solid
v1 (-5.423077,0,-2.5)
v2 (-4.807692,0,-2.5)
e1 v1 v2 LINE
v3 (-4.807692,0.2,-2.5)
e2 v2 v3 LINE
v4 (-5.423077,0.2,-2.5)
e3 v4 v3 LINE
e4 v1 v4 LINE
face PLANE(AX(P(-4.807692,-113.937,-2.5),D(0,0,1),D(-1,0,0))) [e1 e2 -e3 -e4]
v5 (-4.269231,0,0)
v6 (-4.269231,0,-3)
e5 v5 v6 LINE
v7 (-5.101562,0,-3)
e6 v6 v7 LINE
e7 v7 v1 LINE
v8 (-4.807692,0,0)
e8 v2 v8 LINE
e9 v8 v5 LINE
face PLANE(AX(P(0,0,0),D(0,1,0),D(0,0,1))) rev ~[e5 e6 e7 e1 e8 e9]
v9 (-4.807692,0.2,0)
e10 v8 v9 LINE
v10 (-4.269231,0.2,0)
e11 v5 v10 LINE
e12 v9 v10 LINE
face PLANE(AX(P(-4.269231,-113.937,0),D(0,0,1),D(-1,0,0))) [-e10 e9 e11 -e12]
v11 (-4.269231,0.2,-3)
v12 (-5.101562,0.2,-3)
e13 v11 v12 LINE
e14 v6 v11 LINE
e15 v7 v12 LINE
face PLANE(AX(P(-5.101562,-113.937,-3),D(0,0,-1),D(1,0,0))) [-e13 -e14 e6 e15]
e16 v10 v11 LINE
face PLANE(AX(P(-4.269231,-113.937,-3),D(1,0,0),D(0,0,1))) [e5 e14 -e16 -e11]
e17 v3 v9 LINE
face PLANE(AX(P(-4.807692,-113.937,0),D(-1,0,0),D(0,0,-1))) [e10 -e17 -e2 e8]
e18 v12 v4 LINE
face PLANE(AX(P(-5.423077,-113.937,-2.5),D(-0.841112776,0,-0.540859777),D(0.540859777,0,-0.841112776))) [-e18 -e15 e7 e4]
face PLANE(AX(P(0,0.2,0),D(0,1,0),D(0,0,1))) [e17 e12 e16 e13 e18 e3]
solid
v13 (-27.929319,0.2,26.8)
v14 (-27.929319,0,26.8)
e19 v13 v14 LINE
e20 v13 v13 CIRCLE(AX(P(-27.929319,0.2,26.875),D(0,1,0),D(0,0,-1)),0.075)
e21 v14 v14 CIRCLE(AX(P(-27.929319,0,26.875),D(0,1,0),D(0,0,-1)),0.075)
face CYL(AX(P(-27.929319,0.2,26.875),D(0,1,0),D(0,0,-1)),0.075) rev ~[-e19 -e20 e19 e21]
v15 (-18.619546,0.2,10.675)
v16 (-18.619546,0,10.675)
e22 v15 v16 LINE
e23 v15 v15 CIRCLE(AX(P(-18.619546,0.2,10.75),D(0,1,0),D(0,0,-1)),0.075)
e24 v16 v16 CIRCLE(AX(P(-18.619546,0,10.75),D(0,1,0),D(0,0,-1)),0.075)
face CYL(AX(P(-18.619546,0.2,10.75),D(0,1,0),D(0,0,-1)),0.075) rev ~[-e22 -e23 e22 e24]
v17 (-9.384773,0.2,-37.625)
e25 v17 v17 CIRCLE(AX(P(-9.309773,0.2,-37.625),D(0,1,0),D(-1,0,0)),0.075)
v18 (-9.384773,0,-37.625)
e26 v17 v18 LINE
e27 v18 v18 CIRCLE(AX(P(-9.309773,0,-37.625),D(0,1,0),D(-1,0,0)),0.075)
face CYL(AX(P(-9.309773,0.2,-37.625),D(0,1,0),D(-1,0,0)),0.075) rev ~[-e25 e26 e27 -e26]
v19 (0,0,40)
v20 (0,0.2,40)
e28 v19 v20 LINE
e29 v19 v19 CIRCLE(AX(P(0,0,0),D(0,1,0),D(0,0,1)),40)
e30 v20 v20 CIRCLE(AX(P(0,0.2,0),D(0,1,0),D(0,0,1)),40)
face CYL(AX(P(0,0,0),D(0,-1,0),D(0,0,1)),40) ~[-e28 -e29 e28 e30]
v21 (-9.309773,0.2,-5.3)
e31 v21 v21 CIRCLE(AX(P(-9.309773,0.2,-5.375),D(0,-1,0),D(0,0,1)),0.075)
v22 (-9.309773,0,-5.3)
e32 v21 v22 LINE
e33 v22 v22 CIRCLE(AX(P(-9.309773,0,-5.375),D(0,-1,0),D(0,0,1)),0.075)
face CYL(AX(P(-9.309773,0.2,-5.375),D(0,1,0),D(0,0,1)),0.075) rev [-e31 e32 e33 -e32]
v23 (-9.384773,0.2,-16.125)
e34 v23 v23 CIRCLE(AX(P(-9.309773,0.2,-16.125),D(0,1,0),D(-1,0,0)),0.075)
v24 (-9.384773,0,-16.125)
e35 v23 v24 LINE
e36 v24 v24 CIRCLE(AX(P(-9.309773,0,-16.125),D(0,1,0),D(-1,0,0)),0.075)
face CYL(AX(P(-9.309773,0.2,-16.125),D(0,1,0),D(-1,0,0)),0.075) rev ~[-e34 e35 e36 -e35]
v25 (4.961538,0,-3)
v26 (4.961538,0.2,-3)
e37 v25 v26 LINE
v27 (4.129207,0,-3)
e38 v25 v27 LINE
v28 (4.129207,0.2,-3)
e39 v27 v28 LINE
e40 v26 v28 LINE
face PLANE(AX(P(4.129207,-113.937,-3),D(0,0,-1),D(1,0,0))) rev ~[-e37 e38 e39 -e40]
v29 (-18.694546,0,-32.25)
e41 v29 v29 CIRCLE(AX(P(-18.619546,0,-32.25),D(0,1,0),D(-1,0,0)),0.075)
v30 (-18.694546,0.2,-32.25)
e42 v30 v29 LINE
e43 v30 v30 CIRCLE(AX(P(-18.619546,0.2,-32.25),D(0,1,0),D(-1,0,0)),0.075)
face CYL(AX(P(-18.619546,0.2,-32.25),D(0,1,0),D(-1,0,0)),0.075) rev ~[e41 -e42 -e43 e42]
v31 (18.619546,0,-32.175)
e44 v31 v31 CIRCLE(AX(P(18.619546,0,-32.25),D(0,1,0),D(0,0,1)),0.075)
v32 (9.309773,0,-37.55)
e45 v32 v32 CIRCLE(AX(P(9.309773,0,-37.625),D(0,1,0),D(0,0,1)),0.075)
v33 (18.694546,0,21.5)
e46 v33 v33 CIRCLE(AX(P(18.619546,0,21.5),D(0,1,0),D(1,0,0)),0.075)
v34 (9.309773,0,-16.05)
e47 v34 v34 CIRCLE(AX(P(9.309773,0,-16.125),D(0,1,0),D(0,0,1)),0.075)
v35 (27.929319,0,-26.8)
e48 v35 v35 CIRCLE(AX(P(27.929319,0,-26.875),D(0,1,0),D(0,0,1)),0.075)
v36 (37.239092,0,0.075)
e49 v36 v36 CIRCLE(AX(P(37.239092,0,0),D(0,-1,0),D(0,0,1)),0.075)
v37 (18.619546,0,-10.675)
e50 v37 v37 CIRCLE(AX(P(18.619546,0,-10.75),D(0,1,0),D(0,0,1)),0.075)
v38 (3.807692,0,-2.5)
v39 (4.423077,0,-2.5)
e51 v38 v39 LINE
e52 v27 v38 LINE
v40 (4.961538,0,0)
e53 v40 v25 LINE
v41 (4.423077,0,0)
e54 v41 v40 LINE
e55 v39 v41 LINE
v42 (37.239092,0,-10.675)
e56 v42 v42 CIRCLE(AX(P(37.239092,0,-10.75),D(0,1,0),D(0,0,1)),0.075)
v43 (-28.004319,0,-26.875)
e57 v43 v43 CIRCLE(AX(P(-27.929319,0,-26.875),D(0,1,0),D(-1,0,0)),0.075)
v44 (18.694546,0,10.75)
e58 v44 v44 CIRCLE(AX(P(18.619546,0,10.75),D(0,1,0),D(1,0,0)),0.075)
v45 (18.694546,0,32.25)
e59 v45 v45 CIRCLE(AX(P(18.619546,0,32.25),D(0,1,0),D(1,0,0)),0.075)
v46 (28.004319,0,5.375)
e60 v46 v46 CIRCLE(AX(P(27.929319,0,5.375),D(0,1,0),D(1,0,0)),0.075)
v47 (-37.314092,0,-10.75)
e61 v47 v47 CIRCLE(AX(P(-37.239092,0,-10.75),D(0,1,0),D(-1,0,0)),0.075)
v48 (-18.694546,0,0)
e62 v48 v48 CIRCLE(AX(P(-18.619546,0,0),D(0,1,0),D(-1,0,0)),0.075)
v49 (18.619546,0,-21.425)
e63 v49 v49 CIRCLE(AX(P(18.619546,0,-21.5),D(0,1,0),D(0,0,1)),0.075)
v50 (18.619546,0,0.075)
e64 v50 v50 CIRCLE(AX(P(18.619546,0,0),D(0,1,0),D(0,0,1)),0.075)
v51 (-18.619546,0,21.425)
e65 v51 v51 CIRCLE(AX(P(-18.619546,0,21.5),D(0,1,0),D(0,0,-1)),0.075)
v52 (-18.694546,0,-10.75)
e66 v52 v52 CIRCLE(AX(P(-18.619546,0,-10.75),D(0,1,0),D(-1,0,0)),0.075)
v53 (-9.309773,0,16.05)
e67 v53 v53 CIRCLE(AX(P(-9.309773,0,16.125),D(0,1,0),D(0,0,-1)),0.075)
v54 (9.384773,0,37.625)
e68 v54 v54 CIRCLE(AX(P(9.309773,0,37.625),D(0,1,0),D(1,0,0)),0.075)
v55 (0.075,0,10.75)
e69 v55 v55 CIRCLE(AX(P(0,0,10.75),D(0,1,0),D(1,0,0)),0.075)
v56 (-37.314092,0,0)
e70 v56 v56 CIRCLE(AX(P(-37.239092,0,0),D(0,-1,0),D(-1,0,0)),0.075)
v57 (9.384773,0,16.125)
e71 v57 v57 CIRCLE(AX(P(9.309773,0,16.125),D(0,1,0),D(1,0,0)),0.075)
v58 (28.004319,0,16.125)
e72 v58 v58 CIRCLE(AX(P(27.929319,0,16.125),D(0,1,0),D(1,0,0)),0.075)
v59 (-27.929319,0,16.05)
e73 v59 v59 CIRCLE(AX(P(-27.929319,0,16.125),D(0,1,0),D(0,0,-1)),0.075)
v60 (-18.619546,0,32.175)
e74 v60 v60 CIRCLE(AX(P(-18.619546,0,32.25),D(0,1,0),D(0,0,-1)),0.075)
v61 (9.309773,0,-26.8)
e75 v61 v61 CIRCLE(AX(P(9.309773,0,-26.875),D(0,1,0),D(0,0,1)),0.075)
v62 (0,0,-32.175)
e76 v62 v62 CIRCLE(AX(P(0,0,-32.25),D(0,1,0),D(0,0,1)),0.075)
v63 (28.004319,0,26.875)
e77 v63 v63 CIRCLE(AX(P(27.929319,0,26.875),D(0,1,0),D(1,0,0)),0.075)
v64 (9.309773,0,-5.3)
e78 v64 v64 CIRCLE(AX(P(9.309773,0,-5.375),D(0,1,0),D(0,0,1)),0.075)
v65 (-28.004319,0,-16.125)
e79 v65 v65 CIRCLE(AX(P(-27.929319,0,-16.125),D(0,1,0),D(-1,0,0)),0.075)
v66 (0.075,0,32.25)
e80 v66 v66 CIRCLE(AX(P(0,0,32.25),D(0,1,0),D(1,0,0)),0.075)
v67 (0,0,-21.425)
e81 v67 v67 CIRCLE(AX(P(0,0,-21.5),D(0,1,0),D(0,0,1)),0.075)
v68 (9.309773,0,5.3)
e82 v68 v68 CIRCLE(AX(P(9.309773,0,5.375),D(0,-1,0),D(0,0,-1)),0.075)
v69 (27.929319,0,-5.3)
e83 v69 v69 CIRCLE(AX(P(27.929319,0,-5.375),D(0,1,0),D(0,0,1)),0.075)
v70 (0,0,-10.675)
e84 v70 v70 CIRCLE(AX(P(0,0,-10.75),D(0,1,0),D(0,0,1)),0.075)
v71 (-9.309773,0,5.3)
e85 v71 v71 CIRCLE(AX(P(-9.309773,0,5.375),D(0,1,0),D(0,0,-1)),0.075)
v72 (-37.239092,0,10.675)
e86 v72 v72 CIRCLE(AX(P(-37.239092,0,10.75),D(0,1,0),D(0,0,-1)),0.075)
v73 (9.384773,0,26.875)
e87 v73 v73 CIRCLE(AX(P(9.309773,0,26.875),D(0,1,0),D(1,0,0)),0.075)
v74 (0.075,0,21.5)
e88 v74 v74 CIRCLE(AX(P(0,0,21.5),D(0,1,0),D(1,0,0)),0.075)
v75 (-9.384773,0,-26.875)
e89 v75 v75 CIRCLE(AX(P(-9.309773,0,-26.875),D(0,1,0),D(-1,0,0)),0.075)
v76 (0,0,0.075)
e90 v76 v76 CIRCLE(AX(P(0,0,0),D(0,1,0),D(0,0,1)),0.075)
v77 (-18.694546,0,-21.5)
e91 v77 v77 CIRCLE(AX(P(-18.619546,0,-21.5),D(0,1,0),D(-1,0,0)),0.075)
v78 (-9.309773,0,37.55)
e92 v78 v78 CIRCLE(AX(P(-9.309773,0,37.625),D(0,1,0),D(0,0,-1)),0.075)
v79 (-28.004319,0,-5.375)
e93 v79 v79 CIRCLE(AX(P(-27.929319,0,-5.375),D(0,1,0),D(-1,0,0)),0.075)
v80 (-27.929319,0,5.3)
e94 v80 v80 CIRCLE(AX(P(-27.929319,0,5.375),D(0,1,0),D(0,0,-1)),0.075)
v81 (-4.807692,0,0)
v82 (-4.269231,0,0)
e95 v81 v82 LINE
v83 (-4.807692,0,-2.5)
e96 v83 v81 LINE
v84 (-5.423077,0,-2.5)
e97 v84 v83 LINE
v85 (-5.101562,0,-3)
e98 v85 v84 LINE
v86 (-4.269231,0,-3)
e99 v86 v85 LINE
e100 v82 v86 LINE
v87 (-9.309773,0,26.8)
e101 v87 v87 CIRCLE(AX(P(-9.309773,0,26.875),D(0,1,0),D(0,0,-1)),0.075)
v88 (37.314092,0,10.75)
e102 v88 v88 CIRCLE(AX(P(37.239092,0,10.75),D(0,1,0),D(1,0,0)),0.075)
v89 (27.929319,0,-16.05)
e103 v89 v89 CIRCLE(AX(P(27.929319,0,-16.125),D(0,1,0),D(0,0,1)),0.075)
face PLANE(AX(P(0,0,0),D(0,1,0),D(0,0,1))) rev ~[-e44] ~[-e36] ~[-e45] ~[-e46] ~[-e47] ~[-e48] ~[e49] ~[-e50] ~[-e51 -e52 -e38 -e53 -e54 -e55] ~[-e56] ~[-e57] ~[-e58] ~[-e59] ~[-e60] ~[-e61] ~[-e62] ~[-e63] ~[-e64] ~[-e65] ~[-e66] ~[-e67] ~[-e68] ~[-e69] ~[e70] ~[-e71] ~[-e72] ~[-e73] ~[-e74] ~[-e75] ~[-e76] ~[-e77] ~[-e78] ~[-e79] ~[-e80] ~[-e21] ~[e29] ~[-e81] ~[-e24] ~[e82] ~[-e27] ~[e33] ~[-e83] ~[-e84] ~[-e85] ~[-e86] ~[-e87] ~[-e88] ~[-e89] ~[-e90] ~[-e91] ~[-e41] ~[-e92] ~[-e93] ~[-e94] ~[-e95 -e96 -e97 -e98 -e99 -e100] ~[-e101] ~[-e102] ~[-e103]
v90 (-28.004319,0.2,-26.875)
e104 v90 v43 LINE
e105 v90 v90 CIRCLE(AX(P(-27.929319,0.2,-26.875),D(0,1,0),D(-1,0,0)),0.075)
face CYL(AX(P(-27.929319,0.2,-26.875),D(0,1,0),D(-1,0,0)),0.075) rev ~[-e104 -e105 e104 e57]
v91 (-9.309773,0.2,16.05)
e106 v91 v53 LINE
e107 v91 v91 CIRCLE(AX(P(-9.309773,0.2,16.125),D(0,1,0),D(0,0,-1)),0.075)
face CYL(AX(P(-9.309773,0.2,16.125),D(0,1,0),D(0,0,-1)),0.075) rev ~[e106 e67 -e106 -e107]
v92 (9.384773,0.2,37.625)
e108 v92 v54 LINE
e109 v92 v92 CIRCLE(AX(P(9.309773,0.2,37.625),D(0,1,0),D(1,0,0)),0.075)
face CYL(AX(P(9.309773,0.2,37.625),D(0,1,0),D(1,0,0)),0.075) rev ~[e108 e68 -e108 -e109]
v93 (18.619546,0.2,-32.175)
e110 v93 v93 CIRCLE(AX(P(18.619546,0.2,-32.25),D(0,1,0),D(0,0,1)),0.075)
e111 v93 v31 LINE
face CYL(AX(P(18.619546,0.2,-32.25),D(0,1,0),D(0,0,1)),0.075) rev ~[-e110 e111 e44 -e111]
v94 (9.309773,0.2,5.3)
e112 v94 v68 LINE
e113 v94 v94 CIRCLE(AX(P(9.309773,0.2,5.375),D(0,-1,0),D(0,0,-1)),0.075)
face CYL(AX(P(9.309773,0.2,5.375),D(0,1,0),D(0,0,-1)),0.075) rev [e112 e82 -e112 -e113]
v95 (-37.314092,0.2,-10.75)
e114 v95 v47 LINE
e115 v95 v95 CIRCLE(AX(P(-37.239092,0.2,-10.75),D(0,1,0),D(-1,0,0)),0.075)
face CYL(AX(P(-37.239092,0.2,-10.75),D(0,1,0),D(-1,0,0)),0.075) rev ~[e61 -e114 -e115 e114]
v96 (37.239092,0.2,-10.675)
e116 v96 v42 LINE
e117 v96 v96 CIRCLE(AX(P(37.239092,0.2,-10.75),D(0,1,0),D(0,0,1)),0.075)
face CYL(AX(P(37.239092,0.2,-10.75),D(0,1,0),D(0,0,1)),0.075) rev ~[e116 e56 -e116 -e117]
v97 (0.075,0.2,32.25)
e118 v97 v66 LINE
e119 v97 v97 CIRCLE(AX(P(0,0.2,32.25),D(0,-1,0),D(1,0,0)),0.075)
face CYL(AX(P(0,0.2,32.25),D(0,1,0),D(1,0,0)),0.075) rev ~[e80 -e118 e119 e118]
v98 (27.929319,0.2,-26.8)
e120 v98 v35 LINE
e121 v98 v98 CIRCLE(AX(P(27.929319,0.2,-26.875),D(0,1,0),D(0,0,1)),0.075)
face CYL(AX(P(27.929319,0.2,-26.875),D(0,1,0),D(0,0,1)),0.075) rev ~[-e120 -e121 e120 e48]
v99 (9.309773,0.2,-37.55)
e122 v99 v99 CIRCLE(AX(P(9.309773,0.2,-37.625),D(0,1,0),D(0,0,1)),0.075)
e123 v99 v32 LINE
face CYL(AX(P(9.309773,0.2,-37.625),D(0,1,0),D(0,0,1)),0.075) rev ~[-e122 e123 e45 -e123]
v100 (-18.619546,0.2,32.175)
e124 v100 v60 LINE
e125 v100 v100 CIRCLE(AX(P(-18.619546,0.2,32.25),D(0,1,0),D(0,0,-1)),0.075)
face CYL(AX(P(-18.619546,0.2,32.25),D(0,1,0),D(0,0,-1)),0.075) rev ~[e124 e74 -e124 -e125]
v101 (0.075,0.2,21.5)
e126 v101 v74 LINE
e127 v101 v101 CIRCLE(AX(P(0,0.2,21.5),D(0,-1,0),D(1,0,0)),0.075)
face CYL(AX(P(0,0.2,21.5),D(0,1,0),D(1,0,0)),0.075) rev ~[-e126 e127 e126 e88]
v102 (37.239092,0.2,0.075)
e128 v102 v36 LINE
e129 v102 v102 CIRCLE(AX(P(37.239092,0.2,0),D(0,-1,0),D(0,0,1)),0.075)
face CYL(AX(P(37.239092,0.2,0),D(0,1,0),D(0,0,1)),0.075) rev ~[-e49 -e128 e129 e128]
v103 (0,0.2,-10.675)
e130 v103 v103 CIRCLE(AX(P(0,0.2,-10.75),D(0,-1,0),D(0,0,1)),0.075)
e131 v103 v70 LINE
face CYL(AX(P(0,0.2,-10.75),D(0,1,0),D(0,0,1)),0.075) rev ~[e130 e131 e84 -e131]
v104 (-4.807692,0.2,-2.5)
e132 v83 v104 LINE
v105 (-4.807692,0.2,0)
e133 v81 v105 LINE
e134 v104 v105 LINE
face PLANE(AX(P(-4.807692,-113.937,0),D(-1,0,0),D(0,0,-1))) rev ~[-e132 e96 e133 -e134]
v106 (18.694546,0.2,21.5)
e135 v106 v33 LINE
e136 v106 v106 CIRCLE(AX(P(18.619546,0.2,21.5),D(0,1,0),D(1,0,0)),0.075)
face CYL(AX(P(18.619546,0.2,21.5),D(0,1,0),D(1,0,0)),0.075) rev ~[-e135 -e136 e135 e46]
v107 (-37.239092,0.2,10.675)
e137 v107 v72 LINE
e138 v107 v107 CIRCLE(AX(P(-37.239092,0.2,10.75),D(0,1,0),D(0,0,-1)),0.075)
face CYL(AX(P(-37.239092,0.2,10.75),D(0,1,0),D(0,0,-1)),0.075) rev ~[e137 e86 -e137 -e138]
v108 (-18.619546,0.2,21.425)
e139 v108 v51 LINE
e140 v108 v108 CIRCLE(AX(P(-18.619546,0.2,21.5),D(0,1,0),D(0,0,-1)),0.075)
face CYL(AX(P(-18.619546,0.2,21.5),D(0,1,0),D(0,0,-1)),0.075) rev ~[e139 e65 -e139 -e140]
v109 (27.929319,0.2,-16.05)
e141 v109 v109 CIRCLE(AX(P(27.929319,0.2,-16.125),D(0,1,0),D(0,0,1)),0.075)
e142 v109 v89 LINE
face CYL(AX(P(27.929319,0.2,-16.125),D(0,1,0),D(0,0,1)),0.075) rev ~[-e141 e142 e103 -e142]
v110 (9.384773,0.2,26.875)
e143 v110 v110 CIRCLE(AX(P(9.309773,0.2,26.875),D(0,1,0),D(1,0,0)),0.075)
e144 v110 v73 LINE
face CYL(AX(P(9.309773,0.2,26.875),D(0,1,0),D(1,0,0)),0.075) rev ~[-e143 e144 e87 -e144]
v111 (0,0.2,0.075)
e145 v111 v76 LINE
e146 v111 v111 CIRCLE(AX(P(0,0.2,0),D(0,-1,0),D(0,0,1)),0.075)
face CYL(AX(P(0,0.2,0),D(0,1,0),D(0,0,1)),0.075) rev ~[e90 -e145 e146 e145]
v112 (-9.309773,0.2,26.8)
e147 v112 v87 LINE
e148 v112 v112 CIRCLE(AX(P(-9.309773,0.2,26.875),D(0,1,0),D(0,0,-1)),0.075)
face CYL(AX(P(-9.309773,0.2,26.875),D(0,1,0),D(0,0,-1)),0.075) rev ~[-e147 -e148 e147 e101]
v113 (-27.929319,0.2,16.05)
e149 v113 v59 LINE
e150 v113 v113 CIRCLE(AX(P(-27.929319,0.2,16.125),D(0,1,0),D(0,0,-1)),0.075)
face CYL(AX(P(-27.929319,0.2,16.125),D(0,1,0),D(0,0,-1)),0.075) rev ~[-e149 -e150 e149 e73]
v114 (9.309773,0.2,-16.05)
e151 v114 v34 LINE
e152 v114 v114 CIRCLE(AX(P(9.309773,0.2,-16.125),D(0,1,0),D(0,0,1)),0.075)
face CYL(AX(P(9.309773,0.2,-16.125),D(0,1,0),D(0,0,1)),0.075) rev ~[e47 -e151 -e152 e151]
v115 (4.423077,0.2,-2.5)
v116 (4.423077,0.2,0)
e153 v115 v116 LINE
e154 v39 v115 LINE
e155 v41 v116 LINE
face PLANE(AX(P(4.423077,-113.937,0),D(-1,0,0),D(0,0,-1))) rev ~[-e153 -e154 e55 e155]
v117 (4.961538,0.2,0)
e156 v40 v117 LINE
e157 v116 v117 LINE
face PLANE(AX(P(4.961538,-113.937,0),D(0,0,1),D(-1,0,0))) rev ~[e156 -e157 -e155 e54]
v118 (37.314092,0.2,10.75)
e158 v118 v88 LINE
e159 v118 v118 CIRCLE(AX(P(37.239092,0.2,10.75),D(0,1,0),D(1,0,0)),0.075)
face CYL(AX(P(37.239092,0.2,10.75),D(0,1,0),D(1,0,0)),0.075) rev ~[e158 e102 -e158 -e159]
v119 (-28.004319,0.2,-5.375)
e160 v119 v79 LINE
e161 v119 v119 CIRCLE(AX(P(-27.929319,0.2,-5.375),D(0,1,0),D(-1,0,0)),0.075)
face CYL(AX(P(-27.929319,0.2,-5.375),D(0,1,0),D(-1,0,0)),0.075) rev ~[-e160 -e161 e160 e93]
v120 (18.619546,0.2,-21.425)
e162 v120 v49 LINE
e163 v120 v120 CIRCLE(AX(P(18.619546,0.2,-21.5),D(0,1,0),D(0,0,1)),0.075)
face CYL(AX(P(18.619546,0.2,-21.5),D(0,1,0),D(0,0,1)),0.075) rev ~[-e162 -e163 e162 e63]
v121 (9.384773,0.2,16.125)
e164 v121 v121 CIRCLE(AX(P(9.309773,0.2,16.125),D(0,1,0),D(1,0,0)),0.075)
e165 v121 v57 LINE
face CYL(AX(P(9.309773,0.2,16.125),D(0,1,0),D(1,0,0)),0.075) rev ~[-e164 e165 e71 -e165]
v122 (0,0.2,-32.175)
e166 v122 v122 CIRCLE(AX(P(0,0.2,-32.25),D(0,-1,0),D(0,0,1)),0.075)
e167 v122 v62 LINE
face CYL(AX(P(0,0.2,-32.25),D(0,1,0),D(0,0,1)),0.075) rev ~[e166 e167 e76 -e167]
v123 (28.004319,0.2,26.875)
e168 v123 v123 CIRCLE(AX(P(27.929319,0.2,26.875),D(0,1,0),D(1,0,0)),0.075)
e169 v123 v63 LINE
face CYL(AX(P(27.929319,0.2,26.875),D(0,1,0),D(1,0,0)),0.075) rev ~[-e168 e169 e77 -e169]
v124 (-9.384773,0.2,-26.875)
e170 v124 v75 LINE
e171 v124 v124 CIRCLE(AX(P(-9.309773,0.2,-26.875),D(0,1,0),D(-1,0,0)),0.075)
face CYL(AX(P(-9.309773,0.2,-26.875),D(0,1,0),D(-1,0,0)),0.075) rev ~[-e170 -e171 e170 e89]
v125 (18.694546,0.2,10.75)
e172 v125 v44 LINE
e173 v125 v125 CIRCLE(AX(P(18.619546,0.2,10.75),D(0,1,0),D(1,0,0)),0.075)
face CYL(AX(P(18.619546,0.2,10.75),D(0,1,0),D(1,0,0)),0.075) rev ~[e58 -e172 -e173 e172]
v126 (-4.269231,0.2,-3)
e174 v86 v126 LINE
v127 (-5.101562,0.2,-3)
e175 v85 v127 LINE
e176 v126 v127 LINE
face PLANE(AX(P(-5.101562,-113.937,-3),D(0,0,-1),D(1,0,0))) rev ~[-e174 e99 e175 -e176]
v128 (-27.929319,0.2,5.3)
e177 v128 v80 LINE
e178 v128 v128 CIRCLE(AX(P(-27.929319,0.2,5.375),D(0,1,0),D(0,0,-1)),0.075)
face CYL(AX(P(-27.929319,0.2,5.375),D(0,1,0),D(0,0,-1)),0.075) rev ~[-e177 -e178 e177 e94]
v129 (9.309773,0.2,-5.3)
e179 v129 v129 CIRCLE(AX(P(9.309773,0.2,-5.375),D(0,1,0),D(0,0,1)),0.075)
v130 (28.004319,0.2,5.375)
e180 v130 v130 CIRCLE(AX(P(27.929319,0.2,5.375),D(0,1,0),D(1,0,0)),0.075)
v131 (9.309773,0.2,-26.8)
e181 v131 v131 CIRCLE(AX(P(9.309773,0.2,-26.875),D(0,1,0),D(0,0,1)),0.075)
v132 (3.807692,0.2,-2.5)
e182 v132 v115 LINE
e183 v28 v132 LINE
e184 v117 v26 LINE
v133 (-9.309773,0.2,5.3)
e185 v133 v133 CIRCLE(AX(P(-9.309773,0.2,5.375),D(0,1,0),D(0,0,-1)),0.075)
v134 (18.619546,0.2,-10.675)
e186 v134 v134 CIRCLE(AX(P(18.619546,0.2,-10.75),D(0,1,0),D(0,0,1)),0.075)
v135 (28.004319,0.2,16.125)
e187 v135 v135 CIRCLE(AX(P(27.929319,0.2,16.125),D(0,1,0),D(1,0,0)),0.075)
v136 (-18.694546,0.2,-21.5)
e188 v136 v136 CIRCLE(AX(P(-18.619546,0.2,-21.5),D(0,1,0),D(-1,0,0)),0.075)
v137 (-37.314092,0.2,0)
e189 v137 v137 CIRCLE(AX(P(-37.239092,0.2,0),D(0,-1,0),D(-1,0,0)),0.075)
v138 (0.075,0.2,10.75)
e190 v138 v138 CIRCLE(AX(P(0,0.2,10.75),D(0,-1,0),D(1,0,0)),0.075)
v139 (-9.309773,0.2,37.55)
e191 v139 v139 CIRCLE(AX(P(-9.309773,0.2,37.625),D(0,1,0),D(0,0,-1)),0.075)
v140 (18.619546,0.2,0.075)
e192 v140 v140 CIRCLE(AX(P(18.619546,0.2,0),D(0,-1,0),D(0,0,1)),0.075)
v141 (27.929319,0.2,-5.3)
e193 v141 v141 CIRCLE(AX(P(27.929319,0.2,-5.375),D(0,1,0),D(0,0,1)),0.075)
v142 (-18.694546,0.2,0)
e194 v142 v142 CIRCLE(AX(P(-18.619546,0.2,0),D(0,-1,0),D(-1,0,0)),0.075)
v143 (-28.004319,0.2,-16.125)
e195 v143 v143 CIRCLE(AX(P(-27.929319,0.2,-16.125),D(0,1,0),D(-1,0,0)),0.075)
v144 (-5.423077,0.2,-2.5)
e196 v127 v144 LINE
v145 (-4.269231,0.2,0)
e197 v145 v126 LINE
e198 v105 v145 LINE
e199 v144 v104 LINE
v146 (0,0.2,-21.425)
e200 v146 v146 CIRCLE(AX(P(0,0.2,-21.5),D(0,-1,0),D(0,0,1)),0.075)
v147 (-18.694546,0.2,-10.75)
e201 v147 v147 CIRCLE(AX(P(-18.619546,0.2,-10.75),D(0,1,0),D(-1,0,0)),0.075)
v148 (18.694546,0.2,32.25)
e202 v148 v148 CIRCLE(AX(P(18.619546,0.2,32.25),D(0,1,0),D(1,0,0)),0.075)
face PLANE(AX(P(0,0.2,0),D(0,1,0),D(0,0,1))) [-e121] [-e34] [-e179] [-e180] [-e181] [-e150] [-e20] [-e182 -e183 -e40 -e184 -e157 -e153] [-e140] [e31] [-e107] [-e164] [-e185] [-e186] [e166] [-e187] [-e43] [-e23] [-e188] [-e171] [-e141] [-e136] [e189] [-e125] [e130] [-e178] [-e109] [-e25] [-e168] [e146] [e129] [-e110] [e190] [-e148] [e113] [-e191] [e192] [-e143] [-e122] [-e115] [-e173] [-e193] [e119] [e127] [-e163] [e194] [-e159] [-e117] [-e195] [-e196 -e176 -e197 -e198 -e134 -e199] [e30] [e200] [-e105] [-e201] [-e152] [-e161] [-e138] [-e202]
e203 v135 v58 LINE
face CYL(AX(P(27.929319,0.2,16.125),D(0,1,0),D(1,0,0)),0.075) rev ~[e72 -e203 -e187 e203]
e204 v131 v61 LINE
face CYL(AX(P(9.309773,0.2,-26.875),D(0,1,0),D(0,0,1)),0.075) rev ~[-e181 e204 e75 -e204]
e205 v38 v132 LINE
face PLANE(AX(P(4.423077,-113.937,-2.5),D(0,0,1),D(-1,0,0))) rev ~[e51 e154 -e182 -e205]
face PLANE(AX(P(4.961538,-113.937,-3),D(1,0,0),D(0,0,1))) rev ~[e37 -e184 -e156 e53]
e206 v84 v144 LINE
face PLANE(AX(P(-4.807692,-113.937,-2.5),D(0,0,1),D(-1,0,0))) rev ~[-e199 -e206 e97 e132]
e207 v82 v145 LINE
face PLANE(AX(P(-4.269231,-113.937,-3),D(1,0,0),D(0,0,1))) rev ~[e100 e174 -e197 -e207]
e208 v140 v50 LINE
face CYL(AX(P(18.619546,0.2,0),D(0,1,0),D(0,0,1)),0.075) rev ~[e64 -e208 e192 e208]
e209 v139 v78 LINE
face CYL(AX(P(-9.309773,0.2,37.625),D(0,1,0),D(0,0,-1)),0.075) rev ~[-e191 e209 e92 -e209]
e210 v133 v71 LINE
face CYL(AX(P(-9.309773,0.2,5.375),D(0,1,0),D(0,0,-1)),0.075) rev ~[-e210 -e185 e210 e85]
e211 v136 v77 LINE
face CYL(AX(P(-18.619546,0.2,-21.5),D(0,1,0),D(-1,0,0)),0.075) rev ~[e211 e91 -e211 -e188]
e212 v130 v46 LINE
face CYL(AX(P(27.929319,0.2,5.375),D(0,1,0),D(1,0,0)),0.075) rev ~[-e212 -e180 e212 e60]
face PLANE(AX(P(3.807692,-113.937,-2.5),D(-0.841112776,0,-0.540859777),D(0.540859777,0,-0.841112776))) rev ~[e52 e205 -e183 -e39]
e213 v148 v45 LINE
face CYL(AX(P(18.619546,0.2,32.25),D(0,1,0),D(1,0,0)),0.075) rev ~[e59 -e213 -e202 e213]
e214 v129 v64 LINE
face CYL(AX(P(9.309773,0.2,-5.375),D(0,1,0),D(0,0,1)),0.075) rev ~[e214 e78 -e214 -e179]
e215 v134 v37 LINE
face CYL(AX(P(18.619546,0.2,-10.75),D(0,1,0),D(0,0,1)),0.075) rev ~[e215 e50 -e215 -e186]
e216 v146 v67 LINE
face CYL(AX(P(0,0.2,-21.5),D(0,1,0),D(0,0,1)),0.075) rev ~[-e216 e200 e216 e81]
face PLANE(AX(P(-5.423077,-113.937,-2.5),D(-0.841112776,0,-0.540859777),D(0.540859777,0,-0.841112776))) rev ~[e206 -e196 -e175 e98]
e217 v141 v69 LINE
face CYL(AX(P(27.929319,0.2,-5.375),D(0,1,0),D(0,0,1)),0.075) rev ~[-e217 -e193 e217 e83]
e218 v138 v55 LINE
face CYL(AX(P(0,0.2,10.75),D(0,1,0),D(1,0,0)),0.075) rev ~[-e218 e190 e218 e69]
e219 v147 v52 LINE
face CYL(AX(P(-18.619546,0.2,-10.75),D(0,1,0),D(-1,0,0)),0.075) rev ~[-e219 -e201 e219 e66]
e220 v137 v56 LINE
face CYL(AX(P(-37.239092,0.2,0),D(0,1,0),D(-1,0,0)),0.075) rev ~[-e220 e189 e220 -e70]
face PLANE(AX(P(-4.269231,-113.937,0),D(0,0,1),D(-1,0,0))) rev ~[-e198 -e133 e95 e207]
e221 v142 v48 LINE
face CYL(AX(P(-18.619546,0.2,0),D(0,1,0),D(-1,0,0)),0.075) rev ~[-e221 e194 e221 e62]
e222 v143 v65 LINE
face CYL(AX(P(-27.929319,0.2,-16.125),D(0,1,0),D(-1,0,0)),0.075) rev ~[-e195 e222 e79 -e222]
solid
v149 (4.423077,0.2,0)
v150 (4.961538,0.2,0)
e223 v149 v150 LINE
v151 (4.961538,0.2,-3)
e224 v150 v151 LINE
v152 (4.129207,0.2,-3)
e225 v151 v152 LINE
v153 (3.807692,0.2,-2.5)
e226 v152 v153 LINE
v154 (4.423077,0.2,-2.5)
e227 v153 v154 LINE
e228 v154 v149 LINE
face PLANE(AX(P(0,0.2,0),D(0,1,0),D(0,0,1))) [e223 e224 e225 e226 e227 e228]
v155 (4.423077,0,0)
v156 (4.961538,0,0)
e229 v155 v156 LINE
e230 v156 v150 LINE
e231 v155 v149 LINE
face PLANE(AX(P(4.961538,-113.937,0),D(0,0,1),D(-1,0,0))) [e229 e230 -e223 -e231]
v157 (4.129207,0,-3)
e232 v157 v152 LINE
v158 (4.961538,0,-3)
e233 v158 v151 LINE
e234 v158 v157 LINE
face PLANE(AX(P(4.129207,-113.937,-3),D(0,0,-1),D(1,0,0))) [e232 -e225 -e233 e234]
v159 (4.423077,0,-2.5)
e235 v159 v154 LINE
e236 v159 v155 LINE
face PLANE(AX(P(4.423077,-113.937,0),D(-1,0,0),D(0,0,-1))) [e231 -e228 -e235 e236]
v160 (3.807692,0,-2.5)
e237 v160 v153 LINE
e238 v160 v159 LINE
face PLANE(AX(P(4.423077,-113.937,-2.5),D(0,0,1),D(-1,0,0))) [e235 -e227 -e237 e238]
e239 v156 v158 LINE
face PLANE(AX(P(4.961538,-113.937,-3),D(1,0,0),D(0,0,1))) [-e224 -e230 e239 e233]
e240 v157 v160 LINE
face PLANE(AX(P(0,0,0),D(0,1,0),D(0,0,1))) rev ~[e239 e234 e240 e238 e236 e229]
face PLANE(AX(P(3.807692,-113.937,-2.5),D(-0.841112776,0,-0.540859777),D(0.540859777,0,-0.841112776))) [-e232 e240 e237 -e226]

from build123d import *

# Parameters (mm, degrees)
SKETCH2_R                = 40
BOSS_EXTRUDE1_DEPTH      = 0.2
SKETCH4_R                = 0.075
CUT_EXTRUDE2_DEPTH       = 0.2
LPATTERN1_COUNT          = 4
LPATTERN1_PITCH          = 10.75
LPATTERN1_COUNT_DIR2     = 3
LPATTERN1_PITCH_DIR2     = 18.619546181
MIRROR1_COPY_1_SKETCH_R  = 0.075
MIRROR1_COPY_1_DEPTH     = 0.2
MIRROR1_COPY_2_SKETCH_R  = 0.075
MIRROR1_COPY_2_DEPTH     = 0.2
MIRROR1_COPY_3_SKETCH_R  = 0.075
MIRROR1_COPY_3_DEPTH     = 0.2
MIRROR1_COPY_4_SKETCH_R  = 0.075
MIRROR1_COPY_4_DEPTH     = 0.2
MIRROR1_COPY_5_SKETCH_R  = 0.075
MIRROR1_COPY_5_DEPTH     = 0.2
MIRROR1_COPY_6_SKETCH_R  = 0.075
MIRROR1_COPY_6_DEPTH     = 0.2
MIRROR1_COPY_7_SKETCH_R  = 0.075
MIRROR1_COPY_7_DEPTH     = 0.2
MIRROR1_COPY_8_SKETCH_R  = 0.075
MIRROR1_COPY_8_DEPTH     = 0.2
MIRROR1_COPY_9_SKETCH_R  = 0.075
MIRROR1_COPY_9_DEPTH     = 0.2
MIRROR1_COPY_10_SKETCH_R = 0.075
MIRROR1_COPY_10_DEPTH    = 0.2
MIRROR1_COPY_11_SKETCH_R = 0.075
MIRROR1_COPY_11_DEPTH    = 0.2
MIRROR1_COPY_12_SKETCH_R = 0.075
MIRROR1_COPY_12_DEPTH    = 0.2
MIRROR2_COPY_1_SKETCH_R  = 0.075
MIRROR2_COPY_1_DEPTH     = 0.2
MIRROR2_COPY_2_SKETCH_R  = 0.075
MIRROR2_COPY_2_DEPTH     = 0.2
MIRROR2_COPY_3_SKETCH_R  = 0.075
MIRROR2_COPY_3_DEPTH     = 0.2
MIRROR2_COPY_4_SKETCH_R  = 0.075
MIRROR2_COPY_4_DEPTH     = 0.2
MIRROR2_COPY_5_SKETCH_R  = 0.075
MIRROR2_COPY_5_DEPTH     = 0.2
MIRROR2_COPY_6_SKETCH_R  = 0.075
MIRROR2_COPY_6_DEPTH     = 0.2
MIRROR2_COPY_7_SKETCH_R  = 0.075
MIRROR2_COPY_7_DEPTH     = 0.2
MIRROR2_COPY_8_SKETCH_R  = 0.075
MIRROR2_COPY_8_DEPTH     = 0.2
MIRROR2_COPY_9_SKETCH_R  = 0.075
MIRROR2_COPY_9_DEPTH     = 0.2
MIRROR2_COPY_10_SKETCH_R = 0.075
MIRROR2_COPY_10_DEPTH    = 0.2
MIRROR2_COPY_11_SKETCH_R = 0.075
MIRROR2_COPY_11_DEPTH    = 0.2
MIRROR2_COPY_12_SKETCH_R = 0.075
MIRROR2_COPY_12_DEPTH    = 0.2
MIRROR2_COPY_13_SKETCH_R = 0.075
MIRROR2_COPY_13_DEPTH    = 0.2
MIRROR2_COPY_14_SKETCH_R = 0.075
MIRROR2_COPY_14_DEPTH    = 0.2
MIRROR2_COPY_15_SKETCH_R = 0.075
MIRROR2_COPY_15_DEPTH    = 0.2
MIRROR2_COPY_16_SKETCH_R = 0.075
MIRROR2_COPY_16_DEPTH    = 0.2
MIRROR2_COPY_17_SKETCH_R = 0.075
MIRROR2_COPY_17_DEPTH    = 0.2
MIRROR2_COPY_18_SKETCH_R = 0.075
MIRROR2_COPY_18_DEPTH    = 0.2
MIRROR2_COPY_19_SKETCH_R = 0.075
MIRROR2_COPY_19_DEPTH    = 0.2
MIRROR2_COPY_20_SKETCH_R = 0.075
MIRROR2_COPY_20_DEPTH    = 0.2
MIRROR2_COPY_21_SKETCH_R = 0.075
MIRROR2_COPY_21_DEPTH    = 0.2
MIRROR2_COPY_22_SKETCH_R = 0.075
MIRROR2_COPY_22_DEPTH    = 0.2
MIRROR2_COPY_23_SKETCH_R = 0.075
MIRROR2_COPY_23_DEPTH    = 0.2
MIRROR2_COPY_24_SKETCH_R = 0.075
MIRROR2_COPY_24_DEPTH    = 0.2
MIRROR2_COPY_25_SKETCH_R = 0.075
MIRROR2_COPY_25_DEPTH    = 0.2
SPLIT1_SURFACE_1_1_BACK  = 114.137
SPLIT1_SURFACE_1_1_DEPTH = 228.274
SPLIT1_SURFACE_1_2_BACK  = 114.137
SPLIT1_SURFACE_1_2_DEPTH = 228.274
SPLIT1_SURFACE_2_3_BACK  = 114.137
SPLIT1_SURFACE_2_3_DEPTH = 228.274
SPLIT1_SURFACE_2_4_BACK  = 114.137
SPLIT1_SURFACE_2_4_DEPTH = 228.274


with BuildPart() as part:
    # Sketch2 → Boss-Extrude1 (new body)
    with BuildSketch(Plane(origin=(0, 0, 0), x_dir=(1, 0, 0), z_dir=(0, 1, 0))):
        Circle(SKETCH2_R)
    extrude(amount=BOSS_EXTRUDE1_DEPTH)

    # Sketch4 → Cut-Extrude2 (cut)
    with BuildSketch(Plane(origin=(0, 0.2, 0), x_dir=(1, 0, 0), z_dir=(0, 1, 0))):
        with Locations((9.309773091, 5.375)):
            Circle(SKETCH4_R)
        Circle(SKETCH4_R)
    cut_extrude2 = extrude(amount=-CUT_EXTRUDE2_DEPTH, mode=Mode.SUBTRACT)

    # LPattern1: Cut-Extrude2 4 × 3
    with Locations(*[(j * LPATTERN1_PITCH_DIR2, 0, -i * LPATTERN1_PITCH) for i in range(LPATTERN1_COUNT) for j in range(LPATTERN1_COUNT_DIR2) if (i, j) != (0, 0)]):
        add(cut_extrude2, mode=Mode.SUBTRACT)

    # Mirror1 copy 1 sketch → Mirror1 copy 1 (cut)
    with BuildSketch(Plane(origin=(-18.619546181, 0.2, 0), x_dir=(-1, 0, 0), z_dir=(0, 1, 0))):
        with Locations((9.309773091, -5.375)):
            Circle(MIRROR1_COPY_1_SKETCH_R)
        Circle(MIRROR1_COPY_1_SKETCH_R)
    extrude(amount=-MIRROR1_COPY_1_DEPTH, mode=Mode.SUBTRACT)

    # Mirror1 copy 2 sketch → Mirror1 copy 2 (cut)
    with BuildSketch(Plane(origin=(-37.239092363, 0.2, 0), x_dir=(-1, 0, 0), z_dir=(0, 1, 0))):
        with Locations((9.309773091, -5.375)):
            Circle(MIRROR1_COPY_2_SKETCH_R)
        Circle(MIRROR1_COPY_2_SKETCH_R)
    extrude(amount=-MIRROR1_COPY_2_DEPTH, mode=Mode.SUBTRACT)

    # Mirror1 copy 3 sketch → Mirror1 copy 3 (cut)
    with BuildSketch(Plane(origin=(0, 0.2, -10.75), x_dir=(-1, 0, 0), z_dir=(0, 1, 0))):
        with Locations((9.309773091, -5.375)):
            Circle(MIRROR1_COPY_3_SKETCH_R)
        Circle(MIRROR1_COPY_3_SKETCH_R)
    extrude(amount=-MIRROR1_COPY_3_DEPTH, mode=Mode.SUBTRACT)

    # Mirror1 copy 4 sketch → Mirror1 copy 4 (cut)
    with BuildSketch(Plane(origin=(-18.619546181, 0.2, -10.75), x_dir=(-1, 0, 0), z_dir=(0, 1, 0))):
        with Locations((9.309773091, -5.375)):
            Circle(MIRROR1_COPY_4_SKETCH_R)
        Circle(MIRROR1_COPY_4_SKETCH_R)
    extrude(amount=-MIRROR1_COPY_4_DEPTH, mode=Mode.SUBTRACT)

    # Mirror1 copy 5 sketch → Mirror1 copy 5 (cut)
    with BuildSketch(Plane(origin=(-37.239092363, 0.2, -10.75), x_dir=(-1, 0, 0), z_dir=(0, 1, 0))):
        with Locations((9.309773091, -5.375)):
            Circle(MIRROR1_COPY_5_SKETCH_R)
        Circle(MIRROR1_COPY_5_SKETCH_R)
    extrude(amount=-MIRROR1_COPY_5_DEPTH, mode=Mode.SUBTRACT)

    # Mirror1 copy 6 sketch → Mirror1 copy 6 (cut)
    with BuildSketch(Plane(origin=(0, 0.2, -21.5), x_dir=(-1, 0, 0), z_dir=(0, 1, 0))):
        with Locations((9.309773091, -5.375)):
            Circle(MIRROR1_COPY_6_SKETCH_R)
        Circle(MIRROR1_COPY_6_SKETCH_R)
    extrude(amount=-MIRROR1_COPY_6_DEPTH, mode=Mode.SUBTRACT)

    # Mirror1 copy 7 sketch → Mirror1 copy 7 (cut)
    with BuildSketch(Plane(origin=(-18.619546181, 0.2, -21.5), x_dir=(-1, 0, 0), z_dir=(0, 1, 0))):
        with Locations((9.309773091, -5.375)):
            Circle(MIRROR1_COPY_7_SKETCH_R)
        Circle(MIRROR1_COPY_7_SKETCH_R)
    extrude(amount=-MIRROR1_COPY_7_DEPTH, mode=Mode.SUBTRACT)

    # Mirror1 copy 8 sketch → Mirror1 copy 8 (cut)
    with BuildSketch(Plane(origin=(-37.239092363, 0.2, -21.5), x_dir=(-1, 0, 0), z_dir=(0, 1, 0))):
        with Locations((9.309773091, -5.375)):
            Circle(MIRROR1_COPY_8_SKETCH_R)
        Circle(MIRROR1_COPY_8_SKETCH_R)
    extrude(amount=-MIRROR1_COPY_8_DEPTH, mode=Mode.SUBTRACT)

    # Mirror1 copy 9 sketch → Mirror1 copy 9 (cut)
    with BuildSketch(Plane(origin=(0, 0.2, -32.25), x_dir=(-1, 0, 0), z_dir=(0, 1, 0))):
        with Locations((9.309773091, -5.375)):
            Circle(MIRROR1_COPY_9_SKETCH_R)
        Circle(MIRROR1_COPY_9_SKETCH_R)
    extrude(amount=-MIRROR1_COPY_9_DEPTH, mode=Mode.SUBTRACT)

    # Mirror1 copy 10 sketch → Mirror1 copy 10 (cut)
    with BuildSketch(Plane(origin=(-18.619546181, 0.2, -32.25), x_dir=(-1, 0, 0), z_dir=(0, 1, 0))):
        with Locations((9.309773091, -5.375)):
            Circle(MIRROR1_COPY_10_SKETCH_R)
        Circle(MIRROR1_COPY_10_SKETCH_R)
    extrude(amount=-MIRROR1_COPY_10_DEPTH, mode=Mode.SUBTRACT)

    # Mirror1 copy 11 sketch → Mirror1 copy 11 (cut)
    with BuildSketch(Plane(origin=(-37.239092363, 0.2, -32.25), x_dir=(-1, 0, 0), z_dir=(0, 1, 0))):
        with Locations((9.309773091, -5.375)):
            Circle(MIRROR1_COPY_11_SKETCH_R)
        Circle(MIRROR1_COPY_11_SKETCH_R)
    extrude(amount=-MIRROR1_COPY_11_DEPTH, mode=Mode.SUBTRACT)

    # Mirror1 copy 12 sketch → Mirror1 copy 12 (cut)
    with BuildSketch(Plane(origin=(0, 0.2, 0), x_dir=(-1, 0, 0), z_dir=(0, 1, 0))):
        with Locations((9.309773091, -5.375)):
            Circle(MIRROR1_COPY_12_SKETCH_R)
        Circle(MIRROR1_COPY_12_SKETCH_R)
    extrude(amount=-MIRROR1_COPY_12_DEPTH, mode=Mode.SUBTRACT)

    # Mirror2 copy 1 sketch → Mirror2 copy 1 (cut)
    with BuildSketch(Plane(origin=(18.619546181, 0.2, 0), x_dir=(1, 0, 0), z_dir=(0, 1, 0))):
        with Locations((9.309773091, -5.375)):
            Circle(MIRROR2_COPY_1_SKETCH_R)
        Circle(MIRROR2_COPY_1_SKETCH_R)
    extrude(amount=-MIRROR2_COPY_1_DEPTH, mode=Mode.SUBTRACT)

    # Mirror2 copy 2 sketch → Mirror2 copy 2 (cut)
    with BuildSketch(Plane(origin=(37.239092363, 0.2, 0), x_dir=(1, 0, 0), z_dir=(0, 1, 0))):
        with Locations((9.309773091, -5.375)):
            Circle(MIRROR2_COPY_2_SKETCH_R)
        Circle(MIRROR2_COPY_2_SKETCH_R)
    extrude(amount=-MIRROR2_COPY_2_DEPTH, mode=Mode.SUBTRACT)

    # Mirror2 copy 3 sketch → Mirror2 copy 3 (cut)
    with BuildSketch(Plane(origin=(0, 0.2, 10.75), x_dir=(1, 0, 0), z_dir=(0, 1, 0))):
        with Locations((9.309773091, -5.375)):
            Circle(MIRROR2_COPY_3_SKETCH_R)
        Circle(MIRROR2_COPY_3_SKETCH_R)
    extrude(amount=-MIRROR2_COPY_3_DEPTH, mode=Mode.SUBTRACT)

    # Mirror2 copy 4 sketch → Mirror2 copy 4 (cut)
    with BuildSketch(Plane(origin=(18.619546181, 0.2, 10.75), x_dir=(1, 0, 0), z_dir=(0, 1, 0))):
        with Locations((9.309773091, -5.375)):
            Circle(MIRROR2_COPY_4_SKETCH_R)
        Circle(MIRROR2_COPY_4_SKETCH_R)
    extrude(amount=-MIRROR2_COPY_4_DEPTH, mode=Mode.SUBTRACT)

    # Mirror2 copy 5 sketch → Mirror2 copy 5 (cut)
    with BuildSketch(Plane(origin=(37.239092363, 0.2, 10.75), x_dir=(1, 0, 0), z_dir=(0, 1, 0))):
        with Locations((9.309773091, -5.375)):
            Circle(MIRROR2_COPY_5_SKETCH_R)
        Circle(MIRROR2_COPY_5_SKETCH_R)
    extrude(amount=-MIRROR2_COPY_5_DEPTH, mode=Mode.SUBTRACT)

    # Mirror2 copy 6 sketch → Mirror2 copy 6 (cut)
    with BuildSketch(Plane(origin=(0, 0.2, 21.5), x_dir=(1, 0, 0), z_dir=(0, 1, 0))):
        with Locations((9.309773091, -5.375)):
            Circle(MIRROR2_COPY_6_SKETCH_R)
        Circle(MIRROR2_COPY_6_SKETCH_R)
    extrude(amount=-MIRROR2_COPY_6_DEPTH, mode=Mode.SUBTRACT)

    # Mirror2 copy 7 sketch → Mirror2 copy 7 (cut)
    with BuildSketch(Plane(origin=(18.619546181, 0.2, 21.5), x_dir=(1, 0, 0), z_dir=(0, 1, 0))):
        with Locations((9.309773091, -5.375)):
            Circle(MIRROR2_COPY_7_SKETCH_R)
        Circle(MIRROR2_COPY_7_SKETCH_R)
    extrude(amount=-MIRROR2_COPY_7_DEPTH, mode=Mode.SUBTRACT)

    # Mirror2 copy 8 sketch → Mirror2 copy 8 (cut)
    with BuildSketch(Plane(origin=(37.239092363, 0.2, 21.5), x_dir=(1, 0, 0), z_dir=(0, 1, 0))):
        with Locations((9.309773091, -5.375)):
            Circle(MIRROR2_COPY_8_SKETCH_R)
        Circle(MIRROR2_COPY_8_SKETCH_R)
    extrude(amount=-MIRROR2_COPY_8_DEPTH, mode=Mode.SUBTRACT)

    # Mirror2 copy 9 sketch → Mirror2 copy 9 (cut)
    with BuildSketch(Plane(origin=(0, 0.2, 32.25), x_dir=(1, 0, 0), z_dir=(0, 1, 0))):
        with Locations((9.309773091, -5.375)):
            Circle(MIRROR2_COPY_9_SKETCH_R)
        Circle(MIRROR2_COPY_9_SKETCH_R)
    extrude(amount=-MIRROR2_COPY_9_DEPTH, mode=Mode.SUBTRACT)

    # Mirror2 copy 10 sketch → Mirror2 copy 10 (cut)
    with BuildSketch(Plane(origin=(18.619546181, 0.2, 32.25), x_dir=(1, 0, 0), z_dir=(0, 1, 0))):
        with Locations((9.309773091, -5.375)):
            Circle(MIRROR2_COPY_10_SKETCH_R)
        Circle(MIRROR2_COPY_10_SKETCH_R)
    extrude(amount=-MIRROR2_COPY_10_DEPTH, mode=Mode.SUBTRACT)

    # Mirror2 copy 11 sketch → Mirror2 copy 11 (cut)
    with BuildSketch(Plane(origin=(37.239092363, 0.2, 32.25), x_dir=(1, 0, 0), z_dir=(0, 1, 0))):
        with Locations((9.309773091, -5.375)):
            Circle(MIRROR2_COPY_11_SKETCH_R)
        Circle(MIRROR2_COPY_11_SKETCH_R)
    extrude(amount=-MIRROR2_COPY_11_DEPTH, mode=Mode.SUBTRACT)

    # Mirror2 copy 12 sketch → Mirror2 copy 12 (cut)
    with BuildSketch(Plane(origin=(0, 0.2, 0), x_dir=(1, 0, 0), z_dir=(0, 1, 0))):
        with Locations((9.309773091, -5.375)):
            Circle(MIRROR2_COPY_12_SKETCH_R)
        Circle(MIRROR2_COPY_12_SKETCH_R)
    extrude(amount=-MIRROR2_COPY_12_DEPTH, mode=Mode.SUBTRACT)

    # Mirror2 copy 13 sketch → Mirror2 copy 13 (cut)
    with BuildSketch(Plane(origin=(-18.619546181, 0.2, 0), x_dir=(-1, 0, 0), z_dir=(0, 1, 0))):
        with Locations((9.309773091, 5.375)):
            Circle(MIRROR2_COPY_13_SKETCH_R)
        Circle(MIRROR2_COPY_13_SKETCH_R)
    extrude(amount=-MIRROR2_COPY_13_DEPTH, mode=Mode.SUBTRACT)

    # Mirror2 copy 14 sketch → Mirror2 copy 14 (cut)
    with BuildSketch(Plane(origin=(-37.239092363, 0.2, 0), x_dir=(-1, 0, 0), z_dir=(0, 1, 0))):
        with Locations((9.309773091, 5.375)):
            Circle(MIRROR2_COPY_14_SKETCH_R)
        Circle(MIRROR2_COPY_14_SKETCH_R)
    extrude(amount=-MIRROR2_COPY_14_DEPTH, mode=Mode.SUBTRACT)

    # Mirror2 copy 15 sketch → Mirror2 copy 15 (cut)
    with BuildSketch(Plane(origin=(0, 0.2, 10.75), x_dir=(-1, 0, 0), z_dir=(0, 1, 0))):
        with Locations((9.309773091, 5.375)):
            Circle(MIRROR2_COPY_15_SKETCH_R)
        Circle(MIRROR2_COPY_15_SKETCH_R)
    extrude(amount=-MIRROR2_COPY_15_DEPTH, mode=Mode.SUBTRACT)

    # Mirror2 copy 16 sketch → Mirror2 copy 16 (cut)
    with BuildSketch(Plane(origin=(-18.619546181, 0.2, 10.75), x_dir=(-1, 0, 0), z_dir=(0, 1, 0))):
        with Locations((9.309773091, 5.375)):
            Circle(MIRROR2_COPY_16_SKETCH_R)
        Circle(MIRROR2_COPY_16_SKETCH_R)
    extrude(amount=-MIRROR2_COPY_16_DEPTH, mode=Mode.SUBTRACT)

    # Mirror2 copy 17 sketch → Mirror2 copy 17 (cut)
    with BuildSketch(Plane(origin=(-37.239092363, 0.2, 10.75), x_dir=(-1, 0, 0), z_dir=(0, 1, 0))):
        with Locations((9.309773091, 5.375)):
            Circle(MIRROR2_COPY_17_SKETCH_R)
        Circle(MIRROR2_COPY_17_SKETCH_R)
    extrude(amount=-MIRROR2_COPY_17_DEPTH, mode=Mode.SUBTRACT)

    # Mirror2 copy 18 sketch → Mirror2 copy 18 (cut)
    with BuildSketch(Plane(origin=(0, 0.2, 21.5), x_dir=(-1, 0, 0), z_dir=(0, 1, 0))):
        with Locations((9.309773091, 5.375)):
            Circle(MIRROR2_COPY_18_SKETCH_R)
        Circle(MIRROR2_COPY_18_SKETCH_R)
    extrude(amount=-MIRROR2_COPY_18_DEPTH, mode=Mode.SUBTRACT)

    # Mirror2 copy 19 sketch → Mirror2 copy 19 (cut)
    with BuildSketch(Plane(origin=(-18.619546181, 0.2, 21.5), x_dir=(-1, 0, 0), z_dir=(0, 1, 0))):
        with Locations((9.309773091, 5.375)):
            Circle(MIRROR2_COPY_19_SKETCH_R)
        Circle(MIRROR2_COPY_19_SKETCH_R)
    extrude(amount=-MIRROR2_COPY_19_DEPTH, mode=Mode.SUBTRACT)

    # Mirror2 copy 20 sketch → Mirror2 copy 20 (cut)
    with BuildSketch(Plane(origin=(-37.239092363, 0.2, 21.5), x_dir=(-1, 0, 0), z_dir=(0, 1, 0))):
        with Locations((9.309773091, 5.375)):
            Circle(MIRROR2_COPY_20_SKETCH_R)
        Circle(MIRROR2_COPY_20_SKETCH_R)
    extrude(amount=-MIRROR2_COPY_20_DEPTH, mode=Mode.SUBTRACT)

    # Mirror2 copy 21 sketch → Mirror2 copy 21 (cut)
    with BuildSketch(Plane(origin=(0, 0.2, 32.25), x_dir=(-1, 0, 0), z_dir=(0, 1, 0))):
        with Locations((9.309773091, 5.375)):
            Circle(MIRROR2_COPY_21_SKETCH_R)
        Circle(MIRROR2_COPY_21_SKETCH_R)
    extrude(amount=-MIRROR2_COPY_21_DEPTH, mode=Mode.SUBTRACT)

    # Mirror2 copy 22 sketch → Mirror2 copy 22 (cut)
    with BuildSketch(Plane(origin=(-18.619546181, 0.2, 32.25), x_dir=(-1, 0, 0), z_dir=(0, 1, 0))):
        with Locations((9.309773091, 5.375)):
            Circle(MIRROR2_COPY_22_SKETCH_R)
        Circle(MIRROR2_COPY_22_SKETCH_R)
    extrude(amount=-MIRROR2_COPY_22_DEPTH, mode=Mode.SUBTRACT)

    # Mirror2 copy 23 sketch → Mirror2 copy 23 (cut)
    with BuildSketch(Plane(origin=(-37.239092363, 0.2, 32.25), x_dir=(-1, 0, 0), z_dir=(0, 1, 0))):
        with Locations((9.309773091, 5.375)):
            Circle(MIRROR2_COPY_23_SKETCH_R)
        Circle(MIRROR2_COPY_23_SKETCH_R)
    extrude(amount=-MIRROR2_COPY_23_DEPTH, mode=Mode.SUBTRACT)

    # Mirror2 copy 24 sketch → Mirror2 copy 24 (cut)
    with BuildSketch(Plane(origin=(0, 0.2, 0), x_dir=(-1, 0, 0), z_dir=(0, 1, 0))):
        with Locations((9.309773091, 5.375)):
            Circle(MIRROR2_COPY_24_SKETCH_R)
        Circle(MIRROR2_COPY_24_SKETCH_R)
    extrude(amount=-MIRROR2_COPY_24_DEPTH, mode=Mode.SUBTRACT)

    # Mirror2 copy 25 sketch → Mirror2 copy 25 (cut)
    with BuildSketch(Plane(origin=(0, 0.2, 0), x_dir=(1, 0, 0), z_dir=(0, 1, 0))):
        with Locations((9.309773091, -5.375)):
            Circle(MIRROR2_COPY_25_SKETCH_R)
        Circle(MIRROR2_COPY_25_SKETCH_R)
    extrude(amount=-MIRROR2_COPY_25_DEPTH, mode=Mode.SUBTRACT)


with BuildPart() as body_2:
    # Split1: the piece behind the surface
    add(part.part)
    # Split1 surface 1: a surface, the sketch's curves swept straight by 228.274 mm
    with BuildLine(Plane(origin=(0, 0.2, 0), x_dir=(1, 0, 0), z_dir=(0, 1, 0)).offset(-SPLIT1_SURFACE_1_1_BACK), mode=Mode.PRIVATE) as split1_surface_1_1_path:
        Line((-5.423076923, 2.5), (-5.1015625, 3))
        Line((-5.1015625, 3), (-4.269230769, 3))
        Line((-4.269230769, 3), (-4.269230769, 0))
        Line((-4.269230769, 0), (-4.807692308, 0))
        Line((-4.807692308, 0), (-4.807692308, 2.5))
        Line((-4.807692308, 2.5), (-5.423076923, 2.5))
    split1_surface_1_1 = Shell.extrude(split1_surface_1_1_path.wire(), (0 * SPLIT1_SURFACE_1_1_DEPTH, 1 * SPLIT1_SURFACE_1_1_DEPTH, 0 * SPLIT1_SURFACE_1_1_DEPTH))
    split(bisect_by=split1_surface_1_1, keep=Keep.BOTTOM)


with BuildPart() as part_1:
    add(part.part)

    # Split1: split by a surface, the side it looks to stays
    # Split1 surface 1: a surface, the sketch's curves swept straight by 228.274 mm
    with BuildLine(Plane(origin=(0, 0.2, 0), x_dir=(1, 0, 0), z_dir=(0, 1, 0)).offset(-SPLIT1_SURFACE_1_2_BACK), mode=Mode.PRIVATE) as split1_surface_1_2_path:
        Line((-5.423076923, 2.5), (-5.1015625, 3))
        Line((-5.1015625, 3), (-4.269230769, 3))
        Line((-4.269230769, 3), (-4.269230769, 0))
        Line((-4.269230769, 0), (-4.807692308, 0))
        Line((-4.807692308, 0), (-4.807692308, 2.5))
        Line((-4.807692308, 2.5), (-5.423076923, 2.5))
    split1_surface_1_2 = Shell.extrude(split1_surface_1_2_path.wire(), (0 * SPLIT1_SURFACE_1_2_DEPTH, 1 * SPLIT1_SURFACE_1_2_DEPTH, 0 * SPLIT1_SURFACE_1_2_DEPTH))
    split(bisect_by=split1_surface_1_2, keep=Keep.TOP)


with BuildPart() as body_3:
    # Split1 2: the piece behind the surface
    add(part_1.part)
    # Split1 surface 2: a surface, the sketch's curves swept straight by 228.274 mm
    with BuildLine(Plane(origin=(0, 0.2, 0), x_dir=(1, 0, 0), z_dir=(0, 1, 0)).offset(-SPLIT1_SURFACE_2_3_BACK), mode=Mode.PRIVATE) as split1_surface_2_3_path:
        Line((3.807692308, 2.5), (4.129206731, 3))
        Line((4.129206731, 3), (4.961538462, 3))
        Line((4.961538462, 3), (4.961538462, 0))
        Line((4.961538462, 0), (4.423076923, 0))
        Line((4.423076923, 0), (4.423076923, 2.5))
        Line((4.423076923, 2.5), (3.807692308, 2.5))
    split1_surface_2_3 = Shell.extrude(split1_surface_2_3_path.wire(), (0 * SPLIT1_SURFACE_2_3_DEPTH, 1 * SPLIT1_SURFACE_2_3_DEPTH, 0 * SPLIT1_SURFACE_2_3_DEPTH))
    split(bisect_by=split1_surface_2_3, keep=Keep.BOTTOM)


with BuildPart() as part_2:
    add(part_1.part)

    # Split1 2: split by a surface, the side it looks to stays
    # Split1 surface 2: a surface, the sketch's curves swept straight by 228.274 mm
    with BuildLine(Plane(origin=(0, 0.2, 0), x_dir=(1, 0, 0), z_dir=(0, 1, 0)).offset(-SPLIT1_SURFACE_2_4_BACK), mode=Mode.PRIVATE) as split1_surface_2_4_path:
        Line((3.807692308, 2.5), (4.129206731, 3))
        Line((4.129206731, 3), (4.961538462, 3))
        Line((4.961538462, 3), (4.961538462, 0))
        Line((4.961538462, 0), (4.423076923, 0))
        Line((4.423076923, 0), (4.423076923, 2.5))
        Line((4.423076923, 2.5), (3.807692308, 2.5))
    split1_surface_2_4 = Shell.extrude(split1_surface_2_4_path.wire(), (0 * SPLIT1_SURFACE_2_4_DEPTH, 1 * SPLIT1_SURFACE_2_4_DEPTH, 0 * SPLIT1_SURFACE_2_4_DEPTH))
    split(bisect_by=split1_surface_2_4, keep=Keep.TOP)


solid = Compound([body_2.part, body_3.part, part_2.part])
